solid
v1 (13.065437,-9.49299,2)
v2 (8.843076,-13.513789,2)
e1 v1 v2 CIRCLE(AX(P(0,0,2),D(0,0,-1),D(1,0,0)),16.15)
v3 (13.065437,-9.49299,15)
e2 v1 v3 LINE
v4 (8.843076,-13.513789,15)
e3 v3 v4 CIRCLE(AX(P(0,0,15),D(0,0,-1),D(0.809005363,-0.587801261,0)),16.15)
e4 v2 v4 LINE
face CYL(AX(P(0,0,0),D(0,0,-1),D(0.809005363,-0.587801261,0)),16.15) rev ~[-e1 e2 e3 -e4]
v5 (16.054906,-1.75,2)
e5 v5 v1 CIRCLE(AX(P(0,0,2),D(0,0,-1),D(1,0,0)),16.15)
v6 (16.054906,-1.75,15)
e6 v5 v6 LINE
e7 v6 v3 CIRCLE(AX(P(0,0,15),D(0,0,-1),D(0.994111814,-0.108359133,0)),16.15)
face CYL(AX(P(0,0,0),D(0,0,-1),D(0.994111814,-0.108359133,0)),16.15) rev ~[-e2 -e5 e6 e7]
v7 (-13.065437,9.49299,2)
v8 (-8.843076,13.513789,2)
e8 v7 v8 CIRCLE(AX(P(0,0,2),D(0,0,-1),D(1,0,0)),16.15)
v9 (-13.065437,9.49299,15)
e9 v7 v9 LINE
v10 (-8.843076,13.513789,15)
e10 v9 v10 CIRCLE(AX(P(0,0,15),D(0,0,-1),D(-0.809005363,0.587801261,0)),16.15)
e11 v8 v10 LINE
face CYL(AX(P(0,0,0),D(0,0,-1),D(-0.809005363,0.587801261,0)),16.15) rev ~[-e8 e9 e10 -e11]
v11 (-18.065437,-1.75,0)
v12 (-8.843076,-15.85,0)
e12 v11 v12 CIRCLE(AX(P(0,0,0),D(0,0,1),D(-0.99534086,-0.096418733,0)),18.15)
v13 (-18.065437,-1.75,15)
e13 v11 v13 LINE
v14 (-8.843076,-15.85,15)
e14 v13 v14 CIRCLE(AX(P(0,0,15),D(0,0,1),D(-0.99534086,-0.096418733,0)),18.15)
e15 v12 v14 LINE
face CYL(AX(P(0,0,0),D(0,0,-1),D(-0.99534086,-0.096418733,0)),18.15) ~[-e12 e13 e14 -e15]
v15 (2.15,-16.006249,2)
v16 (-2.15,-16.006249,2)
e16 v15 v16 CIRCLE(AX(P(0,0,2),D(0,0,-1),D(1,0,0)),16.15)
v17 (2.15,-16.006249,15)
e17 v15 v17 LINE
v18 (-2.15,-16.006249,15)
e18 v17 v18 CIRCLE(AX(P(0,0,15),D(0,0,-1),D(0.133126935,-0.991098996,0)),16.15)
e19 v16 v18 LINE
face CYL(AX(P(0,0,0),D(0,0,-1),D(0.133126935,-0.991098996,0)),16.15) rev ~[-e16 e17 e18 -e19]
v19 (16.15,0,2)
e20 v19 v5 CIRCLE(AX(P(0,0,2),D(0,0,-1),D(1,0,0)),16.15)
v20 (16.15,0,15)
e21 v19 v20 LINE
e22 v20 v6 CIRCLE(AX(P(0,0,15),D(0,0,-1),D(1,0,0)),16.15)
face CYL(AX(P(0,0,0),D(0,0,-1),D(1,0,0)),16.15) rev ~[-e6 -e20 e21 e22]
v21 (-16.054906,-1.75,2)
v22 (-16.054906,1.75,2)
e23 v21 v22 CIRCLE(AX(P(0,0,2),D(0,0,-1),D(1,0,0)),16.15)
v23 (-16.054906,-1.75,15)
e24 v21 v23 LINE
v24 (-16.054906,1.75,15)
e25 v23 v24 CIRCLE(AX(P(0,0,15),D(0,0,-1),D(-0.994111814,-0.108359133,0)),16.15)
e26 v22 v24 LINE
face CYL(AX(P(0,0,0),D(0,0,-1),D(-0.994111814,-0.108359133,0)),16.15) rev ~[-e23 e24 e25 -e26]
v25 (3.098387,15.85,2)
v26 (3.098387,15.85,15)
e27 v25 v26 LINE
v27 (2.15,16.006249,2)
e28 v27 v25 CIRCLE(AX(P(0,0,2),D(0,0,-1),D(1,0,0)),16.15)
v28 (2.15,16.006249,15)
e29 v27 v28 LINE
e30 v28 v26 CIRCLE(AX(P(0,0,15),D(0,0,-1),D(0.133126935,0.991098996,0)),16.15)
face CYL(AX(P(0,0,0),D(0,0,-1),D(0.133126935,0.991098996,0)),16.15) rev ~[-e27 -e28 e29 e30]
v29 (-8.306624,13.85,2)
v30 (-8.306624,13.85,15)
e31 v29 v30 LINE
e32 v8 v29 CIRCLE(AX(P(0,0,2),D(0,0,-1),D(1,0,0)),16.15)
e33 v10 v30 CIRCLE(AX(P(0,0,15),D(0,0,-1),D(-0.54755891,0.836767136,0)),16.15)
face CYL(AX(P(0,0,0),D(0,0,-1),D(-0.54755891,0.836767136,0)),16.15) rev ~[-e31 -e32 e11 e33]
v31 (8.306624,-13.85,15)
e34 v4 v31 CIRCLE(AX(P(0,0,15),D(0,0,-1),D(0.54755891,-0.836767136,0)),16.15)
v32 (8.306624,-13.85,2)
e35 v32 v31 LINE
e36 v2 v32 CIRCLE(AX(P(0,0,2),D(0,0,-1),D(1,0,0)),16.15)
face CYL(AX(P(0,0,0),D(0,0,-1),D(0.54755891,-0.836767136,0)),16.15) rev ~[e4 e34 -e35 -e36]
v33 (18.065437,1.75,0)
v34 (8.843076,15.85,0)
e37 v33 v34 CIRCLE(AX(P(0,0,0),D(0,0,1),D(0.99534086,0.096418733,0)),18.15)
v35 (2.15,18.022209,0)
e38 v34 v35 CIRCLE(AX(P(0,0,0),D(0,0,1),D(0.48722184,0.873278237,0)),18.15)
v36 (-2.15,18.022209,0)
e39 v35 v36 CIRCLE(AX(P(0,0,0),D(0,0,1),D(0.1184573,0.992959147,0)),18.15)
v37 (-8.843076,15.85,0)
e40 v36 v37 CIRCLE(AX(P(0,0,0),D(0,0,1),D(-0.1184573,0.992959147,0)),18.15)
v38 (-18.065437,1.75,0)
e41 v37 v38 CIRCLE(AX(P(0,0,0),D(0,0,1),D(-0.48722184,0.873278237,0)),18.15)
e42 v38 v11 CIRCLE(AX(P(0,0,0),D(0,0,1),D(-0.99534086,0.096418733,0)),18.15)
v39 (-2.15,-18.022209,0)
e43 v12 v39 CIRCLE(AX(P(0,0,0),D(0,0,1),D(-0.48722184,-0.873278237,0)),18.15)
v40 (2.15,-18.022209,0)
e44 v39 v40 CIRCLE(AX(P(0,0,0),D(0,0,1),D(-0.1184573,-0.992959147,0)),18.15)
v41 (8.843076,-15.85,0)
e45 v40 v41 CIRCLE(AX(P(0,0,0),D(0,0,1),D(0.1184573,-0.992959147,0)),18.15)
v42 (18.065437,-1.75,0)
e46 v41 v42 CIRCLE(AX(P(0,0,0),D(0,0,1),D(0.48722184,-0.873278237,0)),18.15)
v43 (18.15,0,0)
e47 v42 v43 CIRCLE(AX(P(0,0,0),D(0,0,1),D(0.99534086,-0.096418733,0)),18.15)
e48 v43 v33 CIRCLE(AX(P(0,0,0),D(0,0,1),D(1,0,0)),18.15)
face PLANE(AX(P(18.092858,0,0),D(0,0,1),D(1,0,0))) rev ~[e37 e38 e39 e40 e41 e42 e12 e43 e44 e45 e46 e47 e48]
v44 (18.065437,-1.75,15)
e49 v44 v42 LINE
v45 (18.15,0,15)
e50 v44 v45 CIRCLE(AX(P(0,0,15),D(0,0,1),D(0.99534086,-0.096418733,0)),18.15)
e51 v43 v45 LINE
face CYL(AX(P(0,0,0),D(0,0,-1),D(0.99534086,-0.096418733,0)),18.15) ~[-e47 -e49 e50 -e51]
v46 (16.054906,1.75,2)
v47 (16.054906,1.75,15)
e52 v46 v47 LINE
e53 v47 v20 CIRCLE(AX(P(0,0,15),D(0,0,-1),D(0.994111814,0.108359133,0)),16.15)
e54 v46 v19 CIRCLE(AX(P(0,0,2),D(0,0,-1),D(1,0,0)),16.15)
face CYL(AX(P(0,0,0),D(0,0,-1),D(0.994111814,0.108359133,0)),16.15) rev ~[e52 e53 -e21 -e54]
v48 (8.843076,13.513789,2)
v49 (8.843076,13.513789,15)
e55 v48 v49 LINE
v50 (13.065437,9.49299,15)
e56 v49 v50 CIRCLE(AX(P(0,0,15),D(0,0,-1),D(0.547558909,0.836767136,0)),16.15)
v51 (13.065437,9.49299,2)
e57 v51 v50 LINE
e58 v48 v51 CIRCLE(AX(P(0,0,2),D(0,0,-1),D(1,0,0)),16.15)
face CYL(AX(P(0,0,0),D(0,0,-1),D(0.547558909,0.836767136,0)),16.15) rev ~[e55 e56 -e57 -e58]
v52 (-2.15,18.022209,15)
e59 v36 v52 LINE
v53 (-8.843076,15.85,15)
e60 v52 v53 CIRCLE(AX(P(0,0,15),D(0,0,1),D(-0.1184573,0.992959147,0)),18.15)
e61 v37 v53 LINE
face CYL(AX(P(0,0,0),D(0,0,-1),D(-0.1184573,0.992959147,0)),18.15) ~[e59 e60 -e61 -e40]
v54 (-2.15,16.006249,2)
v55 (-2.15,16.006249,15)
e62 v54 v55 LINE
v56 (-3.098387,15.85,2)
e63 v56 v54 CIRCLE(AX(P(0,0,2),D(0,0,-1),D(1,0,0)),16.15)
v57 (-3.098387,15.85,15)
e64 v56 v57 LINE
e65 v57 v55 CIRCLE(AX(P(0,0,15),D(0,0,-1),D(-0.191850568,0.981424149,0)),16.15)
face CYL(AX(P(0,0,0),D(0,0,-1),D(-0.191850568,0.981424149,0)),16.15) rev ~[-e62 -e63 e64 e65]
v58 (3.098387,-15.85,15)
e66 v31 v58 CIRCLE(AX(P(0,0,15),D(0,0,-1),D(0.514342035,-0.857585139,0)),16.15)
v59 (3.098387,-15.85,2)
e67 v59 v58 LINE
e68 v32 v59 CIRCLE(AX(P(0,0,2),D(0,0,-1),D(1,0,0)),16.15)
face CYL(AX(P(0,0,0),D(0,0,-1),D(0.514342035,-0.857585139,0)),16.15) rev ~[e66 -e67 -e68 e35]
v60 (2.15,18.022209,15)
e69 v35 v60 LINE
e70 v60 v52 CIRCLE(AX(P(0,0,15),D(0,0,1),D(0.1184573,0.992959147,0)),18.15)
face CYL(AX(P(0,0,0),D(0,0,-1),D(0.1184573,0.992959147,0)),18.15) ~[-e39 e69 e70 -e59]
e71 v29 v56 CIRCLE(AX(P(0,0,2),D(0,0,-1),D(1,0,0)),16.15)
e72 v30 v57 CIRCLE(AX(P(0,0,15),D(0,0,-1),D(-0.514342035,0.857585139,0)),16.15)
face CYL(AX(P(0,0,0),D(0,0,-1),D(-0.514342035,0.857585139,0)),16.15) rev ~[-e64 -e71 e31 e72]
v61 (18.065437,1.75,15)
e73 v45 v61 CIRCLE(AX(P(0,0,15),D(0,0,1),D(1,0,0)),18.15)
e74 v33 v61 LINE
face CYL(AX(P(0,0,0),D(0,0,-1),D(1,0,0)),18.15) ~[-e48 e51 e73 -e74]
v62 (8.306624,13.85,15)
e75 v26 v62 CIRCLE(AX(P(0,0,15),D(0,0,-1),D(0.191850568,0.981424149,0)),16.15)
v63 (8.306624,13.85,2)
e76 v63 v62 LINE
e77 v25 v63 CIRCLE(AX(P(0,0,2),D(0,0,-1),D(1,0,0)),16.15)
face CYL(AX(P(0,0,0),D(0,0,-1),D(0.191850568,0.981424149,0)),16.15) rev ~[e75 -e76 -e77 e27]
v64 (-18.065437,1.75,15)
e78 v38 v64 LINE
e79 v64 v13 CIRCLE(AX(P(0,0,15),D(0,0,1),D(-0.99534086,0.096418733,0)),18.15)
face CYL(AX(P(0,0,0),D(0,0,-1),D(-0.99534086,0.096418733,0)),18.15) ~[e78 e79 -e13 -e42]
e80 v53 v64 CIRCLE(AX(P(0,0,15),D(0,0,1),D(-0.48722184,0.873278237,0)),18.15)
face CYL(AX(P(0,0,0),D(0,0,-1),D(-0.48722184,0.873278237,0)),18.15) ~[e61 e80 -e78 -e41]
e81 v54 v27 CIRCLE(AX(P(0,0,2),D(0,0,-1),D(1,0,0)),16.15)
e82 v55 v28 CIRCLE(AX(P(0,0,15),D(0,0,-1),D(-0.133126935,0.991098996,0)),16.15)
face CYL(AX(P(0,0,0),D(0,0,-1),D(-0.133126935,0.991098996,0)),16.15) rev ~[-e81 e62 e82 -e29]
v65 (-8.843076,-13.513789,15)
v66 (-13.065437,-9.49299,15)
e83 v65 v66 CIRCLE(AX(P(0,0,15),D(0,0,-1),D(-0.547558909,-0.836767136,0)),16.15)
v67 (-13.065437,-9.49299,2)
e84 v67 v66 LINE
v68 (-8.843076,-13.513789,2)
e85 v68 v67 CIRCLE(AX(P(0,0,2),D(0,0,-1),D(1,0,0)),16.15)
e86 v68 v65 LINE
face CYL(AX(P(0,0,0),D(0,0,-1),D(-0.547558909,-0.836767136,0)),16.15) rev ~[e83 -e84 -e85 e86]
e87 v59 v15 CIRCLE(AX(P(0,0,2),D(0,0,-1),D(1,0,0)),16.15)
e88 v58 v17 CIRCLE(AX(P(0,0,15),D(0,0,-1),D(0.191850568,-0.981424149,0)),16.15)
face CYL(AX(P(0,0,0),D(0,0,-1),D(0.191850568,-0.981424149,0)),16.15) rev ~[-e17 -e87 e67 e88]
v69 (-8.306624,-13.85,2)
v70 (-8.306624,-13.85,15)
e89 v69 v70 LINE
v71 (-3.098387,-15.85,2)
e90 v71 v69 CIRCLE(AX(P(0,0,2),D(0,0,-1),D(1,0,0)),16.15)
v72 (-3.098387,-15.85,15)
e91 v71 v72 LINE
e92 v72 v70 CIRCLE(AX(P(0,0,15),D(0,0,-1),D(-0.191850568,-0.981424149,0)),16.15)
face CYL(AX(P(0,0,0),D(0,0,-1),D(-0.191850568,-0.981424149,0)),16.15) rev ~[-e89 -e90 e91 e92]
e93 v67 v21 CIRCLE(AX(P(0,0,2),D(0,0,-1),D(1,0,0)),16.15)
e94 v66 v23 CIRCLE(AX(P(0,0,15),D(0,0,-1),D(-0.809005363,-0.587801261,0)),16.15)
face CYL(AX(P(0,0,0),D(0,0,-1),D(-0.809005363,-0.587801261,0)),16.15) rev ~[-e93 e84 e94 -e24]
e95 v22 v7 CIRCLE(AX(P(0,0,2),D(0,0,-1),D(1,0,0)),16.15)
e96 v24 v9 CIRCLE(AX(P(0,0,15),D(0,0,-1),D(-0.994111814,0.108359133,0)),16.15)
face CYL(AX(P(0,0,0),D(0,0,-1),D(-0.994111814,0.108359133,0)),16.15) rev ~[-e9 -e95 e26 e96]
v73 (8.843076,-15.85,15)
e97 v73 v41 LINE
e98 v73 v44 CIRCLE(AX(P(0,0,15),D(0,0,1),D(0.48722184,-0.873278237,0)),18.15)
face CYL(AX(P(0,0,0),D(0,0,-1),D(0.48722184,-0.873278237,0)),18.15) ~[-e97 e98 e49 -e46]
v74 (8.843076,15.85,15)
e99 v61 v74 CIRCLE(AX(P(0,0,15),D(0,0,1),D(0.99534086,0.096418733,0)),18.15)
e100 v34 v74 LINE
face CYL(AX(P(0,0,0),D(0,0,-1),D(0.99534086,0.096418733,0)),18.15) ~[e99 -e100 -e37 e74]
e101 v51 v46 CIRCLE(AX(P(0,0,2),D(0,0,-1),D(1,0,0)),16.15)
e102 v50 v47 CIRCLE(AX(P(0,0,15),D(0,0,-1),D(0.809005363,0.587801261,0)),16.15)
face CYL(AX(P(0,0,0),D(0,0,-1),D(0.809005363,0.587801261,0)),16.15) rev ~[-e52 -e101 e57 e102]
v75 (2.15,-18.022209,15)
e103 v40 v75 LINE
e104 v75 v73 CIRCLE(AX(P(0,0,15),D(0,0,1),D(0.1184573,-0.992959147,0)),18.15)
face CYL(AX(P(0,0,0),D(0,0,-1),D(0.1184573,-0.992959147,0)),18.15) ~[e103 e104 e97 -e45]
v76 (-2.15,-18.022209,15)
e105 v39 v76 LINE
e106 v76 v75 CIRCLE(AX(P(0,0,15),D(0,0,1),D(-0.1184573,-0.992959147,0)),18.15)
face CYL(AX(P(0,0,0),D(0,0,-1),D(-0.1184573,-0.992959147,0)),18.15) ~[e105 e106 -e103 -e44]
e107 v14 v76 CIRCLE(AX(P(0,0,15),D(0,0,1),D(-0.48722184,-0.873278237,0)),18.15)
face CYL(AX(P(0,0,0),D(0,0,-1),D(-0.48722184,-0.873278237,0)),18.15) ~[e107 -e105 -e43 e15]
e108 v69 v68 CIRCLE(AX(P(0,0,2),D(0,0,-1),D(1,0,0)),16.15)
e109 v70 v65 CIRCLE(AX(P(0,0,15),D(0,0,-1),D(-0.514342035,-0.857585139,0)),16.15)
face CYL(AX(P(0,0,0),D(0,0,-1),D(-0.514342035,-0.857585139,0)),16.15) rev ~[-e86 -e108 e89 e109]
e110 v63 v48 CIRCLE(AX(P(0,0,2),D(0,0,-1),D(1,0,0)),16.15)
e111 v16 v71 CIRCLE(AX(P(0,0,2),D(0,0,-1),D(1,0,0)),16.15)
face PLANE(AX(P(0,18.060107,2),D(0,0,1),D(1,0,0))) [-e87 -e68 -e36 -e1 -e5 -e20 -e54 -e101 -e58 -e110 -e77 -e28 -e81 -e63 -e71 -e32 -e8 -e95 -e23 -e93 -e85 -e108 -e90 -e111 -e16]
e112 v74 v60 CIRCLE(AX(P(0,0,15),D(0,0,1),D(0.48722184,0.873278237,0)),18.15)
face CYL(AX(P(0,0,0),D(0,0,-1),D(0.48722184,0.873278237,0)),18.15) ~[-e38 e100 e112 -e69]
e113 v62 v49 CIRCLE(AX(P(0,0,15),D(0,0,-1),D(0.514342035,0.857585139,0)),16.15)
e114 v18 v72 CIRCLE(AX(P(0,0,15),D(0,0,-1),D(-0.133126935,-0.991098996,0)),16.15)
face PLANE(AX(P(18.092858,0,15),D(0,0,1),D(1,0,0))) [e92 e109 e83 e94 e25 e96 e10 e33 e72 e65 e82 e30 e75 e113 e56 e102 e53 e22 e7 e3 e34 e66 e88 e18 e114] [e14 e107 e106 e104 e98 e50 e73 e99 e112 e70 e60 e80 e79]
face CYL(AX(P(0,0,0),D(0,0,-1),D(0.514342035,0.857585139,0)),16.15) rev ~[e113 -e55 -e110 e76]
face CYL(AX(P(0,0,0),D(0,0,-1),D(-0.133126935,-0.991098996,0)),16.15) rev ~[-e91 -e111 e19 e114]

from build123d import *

# Parameters (mm, degrees)
F1_DEPTH    = 15
F0_W        = 4.3
F0_H        = 4.3570096321
F0_W_2      = 4.2223602247
F0_H_2      = 3.5
F0_H_3      = 7.7429903679
F0_W_3      = 6.1566238629
F0_H_4      = 2
F0_W_4      = 0.5364525249
F0_W_5      = 2
F1_FACE_R   = 18.15
F1_FACE_R_2 = 16.15
F2_DEPTH    = 2


with BuildPart() as f1:
    # F0 (on Top) → F1 (new body)
    with BuildSketch(Plane.XY):
        with BuildLine():
            ThreePointArc((18.0654366125, -1.75), (18.1288468265, -0.876020971), (18.15, 0))
            ThreePointArc((18.15, 0), (18.1288468265, 0.876020971), (18.0654366125, 1.75))
            Line((18.0654366125, 1.75), (18.0654366125, -1.75))
        make_face()
        with BuildLine():
            Line((16.0549057923, 1.75), (18.0654366125, 1.75))
            ThreePointArc((18.0654366125, 1.75), (15.1894541696, 9.9349374446), (8.8430763878, 15.85))
            Line((8.8430763878, 15.85), (8.8430763878, 13.5137892539))
            ThreePointArc((8.8430763878, 13.5137892539), (11.1372097669, 11.6955144653), (13.0654366125, 9.4929903679))
            ThreePointArc((13.0654366125, 9.4929903679), (15.0660897516, 5.816823841), (16.0549057923, 1.75))
        make_face()
        with BuildLine():
            Line((18.0654366125, -1.75), (18.0654366125, 1.75))
            Line((18.0654366125, 1.75), (16.0549057923, 1.75))
            ThreePointArc((16.0549057923, 1.75), (16.1262089244, 0.8762908918), (16.15, 0))
            ThreePointArc((16.15, 0), (16.1262089244, -0.8762908918), (16.0549057923, -1.75))
            Line((16.0549057923, -1.75), (18.0654366125, -1.75))
        make_face()
        with BuildLine():
            ThreePointArc((8.8430763878, -15.85), (15.1894541696, -9.9349374446), (18.0654366125, -1.75))
            Line((18.0654366125, -1.75), (16.0549057923, -1.75))
            ThreePointArc((16.0549057923, -1.75), (15.0660897516, -5.816823841), (13.0654366125, -9.4929903679))
            ThreePointArc((13.0654366125, -9.4929903679), (11.1372097669, -11.6955144653), (8.8430763878, -13.5137892539))
            Line((8.8430763878, -13.5137892539), (8.8430763878, -15.85))
        make_face()
        with BuildLine():
            Line((3.098386677, 15.85), (8.8430763878, 15.85))
            ThreePointArc((8.8430763878, 15.85), (5.6028166651, 17.2635727883), (2.15, 18.0222085217))
            Line((2.15, 18.0222085217), (2.15, 16.0062487798))
            ThreePointArc((2.15, 16.0062487798), (2.6253559945, 15.9351813891), (3.098386677, 15.85))
        make_face()
        with BuildLine():
            Line((8.8430763878, 13.5137892539), (8.8430763878, 15.85))
            Line((8.8430763878, 15.85), (3.098386677, 15.85))
            ThreePointArc((3.098386677, 15.85), (5.7895221179, 15.0766021917), (8.3066238629, 13.85))
            ThreePointArc((8.3066238629, 13.85), (8.5764977752, 13.684523591), (8.8430763878, 13.5137892539))
        make_face()
        with BuildLine():
            ThreePointArc((2.15, -18.0222085217), (5.6028166651, -17.2635727883), (8.8430763878, -15.85))
            Line((8.8430763878, -15.85), (3.098386677, -15.85))
            ThreePointArc((3.098386677, -15.85), (2.6253559945, -15.9351813891), (2.15, -16.0062487798))
            Line((2.15, -16.0062487798), (2.15, -18.0222085217))
        make_face()
        with BuildLine():
            Line((3.098386677, -15.85), (8.8430763878, -15.85))
            Line((8.8430763878, -15.85), (8.8430763878, -13.5137892539))
            ThreePointArc((8.8430763878, -13.5137892539), (8.5764977752, -13.684523591), (8.3066238629, -13.85))
            ThreePointArc((8.3066238629, -13.85), (5.7895221179, -15.0766021917), (3.098386677, -15.85))
        make_face()
        with BuildLine():
            Line((-2.15, 18.0222085217), (2.15, 18.0222085217))
            ThreePointArc((2.15, 18.0222085217), (0, 18.15), (-2.15, 18.0222085217))
        make_face()
        with BuildLine():
            Line((2.15, 16.0062487798), (2.15, 18.0222085217))
            Line((2.15, 18.0222085217), (-2.15, 18.0222085217))
            Line((-2.15, 18.0222085217), (-2.15, 16.0062487798))
            ThreePointArc((-2.15, 16.0062487798), (0, 16.15), (2.15, 16.0062487798))
        make_face()
        with BuildLine():
            ThreePointArc((-2.15, -18.0222085217), (0, -18.15), (2.15, -18.0222085217))
            Line((2.15, -18.0222085217), (-2.15, -18.0222085217))
        make_face()
        with BuildLine():
            Line((-2.15, -18.0222085217), (2.15, -18.0222085217))
            Line((2.15, -18.0222085217), (2.15, -16.0062487798))
            ThreePointArc((2.15, -16.0062487798), (0, -16.15), (-2.15, -16.0062487798))
            Line((-2.15, -16.0062487798), (-2.15, -18.0222085217))
        make_face()
        with BuildLine():
            Line((-2.15, 16.0062487798), (-2.15, 18.0222085217))
            ThreePointArc((-2.15, 18.0222085217), (-5.6028166651, 17.2635727883), (-8.8430763878, 15.85))
            Line((-8.8430763878, 15.85), (-3.098386677, 15.85))
            ThreePointArc((-3.098386677, 15.85), (-2.6253559945, 15.9351813891), (-2.15, 16.0062487798))
        make_face()
        with BuildLine():
            ThreePointArc((-8.8430763878, -15.85), (-5.6028166651, -17.2635727883), (-2.15, -18.0222085217))
            Line((-2.15, -18.0222085217), (-2.15, -16.0062487798))
            ThreePointArc((-2.15, -16.0062487798), (-2.6253559945, -15.9351813891), (-3.098386677, -15.85))
            Line((-3.098386677, -15.85), (-8.8430763878, -15.85))
        make_face()
        with BuildLine():
            Line((-8.8430763878, 13.5137892539), (-8.8430763878, 15.85))
            ThreePointArc((-8.8430763878, 15.85), (-15.1894541696, 9.9349374446), (-18.0654366125, 1.75))
            Line((-18.0654366125, 1.75), (-16.0549057923, 1.75))
            ThreePointArc((-16.0549057923, 1.75), (-15.0660897516, 5.816823841), (-13.0654366125, 9.4929903679))
            ThreePointArc((-13.0654366125, 9.4929903679), (-11.1372097669, 11.6955144653), (-8.8430763878, 13.5137892539))
        make_face()
        with BuildLine():
            Line((-3.098386677, 15.85), (-8.8430763878, 15.85))
            Line((-8.8430763878, 15.85), (-8.8430763878, 13.5137892539))
            ThreePointArc((-8.8430763878, 13.5137892539), (-8.5764977752, 13.684523591), (-8.3066238629, 13.85))
            ThreePointArc((-8.3066238629, 13.85), (-5.7895221179, 15.0766021917), (-3.098386677, 15.85))
        make_face()
        with BuildLine():
            Line((-8.8430763878, -13.5137892539), (-8.8430763878, -15.85))
            Line((-8.8430763878, -15.85), (-3.098386677, -15.85))
            ThreePointArc((-3.098386677, -15.85), (-5.7895221179, -15.0766021917), (-8.3066238629, -13.85))
            ThreePointArc((-8.3066238629, -13.85), (-8.5764977752, -13.684523591), (-8.8430763878, -13.5137892539))
        make_face()
        with BuildLine():
            ThreePointArc((-18.0654366125, -1.75), (-15.1894541696, -9.9349374446), (-8.8430763878, -15.85))
            Line((-8.8430763878, -15.85), (-8.8430763878, -13.5137892539))
            ThreePointArc((-8.8430763878, -13.5137892539), (-11.1372097669, -11.6955144653), (-13.0654366125, -9.4929903679))
            ThreePointArc((-13.0654366125, -9.4929903679), (-15.0660897516, -5.816823841), (-16.0549057923, -1.75))
            Line((-16.0549057923, -1.75), (-18.0654366125, -1.75))
        make_face()
        with BuildLine():
            Line((-18.0654366125, -1.75), (-18.0654366125, 1.75))
            ThreePointArc((-18.0654366125, 1.75), (-18.15, 0), (-18.0654366125, -1.75))
        make_face()
        with BuildLine():
            Line((-16.0549057923, 1.75), (-18.0654366125, 1.75))
            Line((-18.0654366125, 1.75), (-18.0654366125, -1.75))
            Line((-18.0654366125, -1.75), (-16.0549057923, -1.75))
            ThreePointArc((-16.0549057923, -1.75), (-16.15, 0), (-16.0549057923, 1.75))
        make_face()
    extrude(amount=F1_DEPTH)

    # F0 (on Top) + F1_face (on face) → F2 (join)
    with BuildSketch(Plane.XY):
        with BuildLine():
            Line((-2.15, 18.0222085217), (2.15, 18.0222085217))
            ThreePointArc((2.15, 18.0222085217), (0, 18.15), (-2.15, 18.0222085217))
        make_face()
        with BuildLine():
            Line((-18.0654366125, -1.75), (-18.0654366125, 1.75))
            ThreePointArc((-18.0654366125, 1.75), (-18.15, 0), (-18.0654366125, -1.75))
        make_face()
        with BuildLine():
            ThreePointArc((-2.15, -18.0222085217), (0, -18.15), (2.15, -18.0222085217))
            Line((2.15, -18.0222085217), (-2.15, -18.0222085217))
        make_face()
        with BuildLine():
            ThreePointArc((18.0654366125, -1.75), (18.1288468265, -0.876020971), (18.15, 0))
            ThreePointArc((18.15, 0), (18.1288468265, 0.876020971), (18.0654366125, 1.75))
            Line((18.0654366125, 1.75), (18.0654366125, -1.75))
        make_face()
        with BuildLine():
            Line((3.098386677, 15.85), (8.8430763878, 15.85))
            ThreePointArc((8.8430763878, 15.85), (5.6028166651, 17.2635727883), (2.15, 18.0222085217))
            Line((2.15, 18.0222085217), (2.15, 16.0062487798))
            ThreePointArc((2.15, 16.0062487798), (2.6253559945, 15.9351813891), (3.098386677, 15.85))
        make_face()
        with BuildLine():
            Line((-2.15, 16.0062487798), (-2.15, 18.0222085217))
            ThreePointArc((-2.15, 18.0222085217), (-5.6028166651, 17.2635727883), (-8.8430763878, 15.85))
            Line((-8.8430763878, 15.85), (-3.098386677, 15.85))
            ThreePointArc((-3.098386677, 15.85), (-2.6253559945, 15.9351813891), (-2.15, 16.0062487798))
        make_face()
        with BuildLine():
            ThreePointArc((-8.8430763878, -15.85), (-5.6028166651, -17.2635727883), (-2.15, -18.0222085217))
            Line((-2.15, -18.0222085217), (-2.15, -16.0062487798))
            ThreePointArc((-2.15, -16.0062487798), (-2.6253559945, -15.9351813891), (-3.098386677, -15.85))
            Line((-3.098386677, -15.85), (-8.8430763878, -15.85))
        make_face()
        with BuildLine():
            ThreePointArc((2.15, -18.0222085217), (5.6028166651, -17.2635727883), (8.8430763878, -15.85))
            Line((8.8430763878, -15.85), (3.098386677, -15.85))
            ThreePointArc((3.098386677, -15.85), (2.6253559945, -15.9351813891), (2.15, -16.0062487798))
            Line((2.15, -16.0062487798), (2.15, -18.0222085217))
        make_face()
        with BuildLine():
            Line((16.0549057923, 1.75), (18.0654366125, 1.75))
            ThreePointArc((18.0654366125, 1.75), (15.1894541696, 9.9349374446), (8.8430763878, 15.85))
            Line((8.8430763878, 15.85), (8.8430763878, 13.5137892539))
            ThreePointArc((8.8430763878, 13.5137892539), (11.1372097669, 11.6955144653), (13.0654366125, 9.4929903679))
            ThreePointArc((13.0654366125, 9.4929903679), (15.0660897516, 5.816823841), (16.0549057923, 1.75))
        make_face()
        with BuildLine():
            Line((-8.8430763878, 13.5137892539), (-8.8430763878, 15.85))
            ThreePointArc((-8.8430763878, 15.85), (-15.1894541696, 9.9349374446), (-18.0654366125, 1.75))
            Line((-18.0654366125, 1.75), (-16.0549057923, 1.75))
            ThreePointArc((-16.0549057923, 1.75), (-15.0660897516, 5.816823841), (-13.0654366125, 9.4929903679))
            ThreePointArc((-13.0654366125, 9.4929903679), (-11.1372097669, 11.6955144653), (-8.8430763878, 13.5137892539))
        make_face()
        with BuildLine():
            ThreePointArc((-18.0654366125, -1.75), (-15.1894541696, -9.9349374446), (-8.8430763878, -15.85))
            Line((-8.8430763878, -15.85), (-8.8430763878, -13.5137892539))
            ThreePointArc((-8.8430763878, -13.5137892539), (-11.1372097669, -11.6955144653), (-13.0654366125, -9.4929903679))
            ThreePointArc((-13.0654366125, -9.4929903679), (-15.0660897516, -5.816823841), (-16.0549057923, -1.75))
            Line((-16.0549057923, -1.75), (-18.0654366125, -1.75))
        make_face()
        with BuildLine():
            ThreePointArc((8.8430763878, -15.85), (15.1894541696, -9.9349374446), (18.0654366125, -1.75))
            Line((18.0654366125, -1.75), (16.0549057923, -1.75))
            ThreePointArc((16.0549057923, -1.75), (15.0660897516, -5.816823841), (13.0654366125, -9.4929903679))
            ThreePointArc((13.0654366125, -9.4929903679), (11.1372097669, -11.6955144653), (8.8430763878, -13.5137892539))
            Line((8.8430763878, -13.5137892539), (8.8430763878, -15.85))
        make_face()
        with BuildLine():
            Line((-3.098386677, 15.85), (-8.8430763878, 15.85))
            Line((-8.8430763878, 15.85), (-8.8430763878, 13.5137892539))
            ThreePointArc((-8.8430763878, 13.5137892539), (-8.5764977752, 13.684523591), (-8.3066238629, 13.85))
            ThreePointArc((-8.3066238629, 13.85), (-5.7895221179, 15.0766021917), (-3.098386677, 15.85))
        make_face()
        with BuildLine():
            Line((8.8430763878, 13.5137892539), (8.8430763878, 15.85))
            Line((8.8430763878, 15.85), (3.098386677, 15.85))
            ThreePointArc((3.098386677, 15.85), (5.7895221179, 15.0766021917), (8.3066238629, 13.85))
            ThreePointArc((8.3066238629, 13.85), (8.5764977752, 13.684523591), (8.8430763878, 13.5137892539))
        make_face()
        with BuildLine():
            Line((-8.8430763878, -13.5137892539), (-8.8430763878, -15.85))
            Line((-8.8430763878, -15.85), (-3.098386677, -15.85))
            ThreePointArc((-3.098386677, -15.85), (-5.7895221179, -15.0766021917), (-8.3066238629, -13.85))
            ThreePointArc((-8.3066238629, -13.85), (-8.5764977752, -13.684523591), (-8.8430763878, -13.5137892539))
        make_face()
        with BuildLine():
            Line((3.098386677, -15.85), (8.8430763878, -15.85))
            Line((8.8430763878, -15.85), (8.8430763878, -13.5137892539))
            ThreePointArc((8.8430763878, -13.5137892539), (8.5764977752, -13.684523591), (8.3066238629, -13.85))
            ThreePointArc((8.3066238629, -13.85), (5.7895221179, -15.0766021917), (3.098386677, -15.85))
        make_face()
        with BuildLine():
            Line((2.15, 16.0062487798), (2.15, 18.0222085217))
            Line((2.15, 18.0222085217), (-2.15, 18.0222085217))
            Line((-2.15, 18.0222085217), (-2.15, 16.0062487798))
            ThreePointArc((-2.15, 16.0062487798), (0, 16.15), (2.15, 16.0062487798))
        make_face()
        with BuildLine():
            Line((-2.15, -18.0222085217), (2.15, -18.0222085217))
            Line((2.15, -18.0222085217), (2.15, -16.0062487798))
            ThreePointArc((2.15, -16.0062487798), (0, -16.15), (-2.15, -16.0062487798))
            Line((-2.15, -16.0062487798), (-2.15, -18.0222085217))
        make_face()
        with BuildLine():
            Line((-16.0549057923, 1.75), (-18.0654366125, 1.75))
            Line((-18.0654366125, 1.75), (-18.0654366125, -1.75))
            Line((-18.0654366125, -1.75), (-16.0549057923, -1.75))
            ThreePointArc((-16.0549057923, -1.75), (-16.15, 0), (-16.0549057923, 1.75))
        make_face()
        with BuildLine():
            Line((18.0654366125, -1.75), (18.0654366125, 1.75))
            Line((18.0654366125, 1.75), (16.0549057923, 1.75))
            ThreePointArc((16.0549057923, 1.75), (16.1262089244, 0.8762908918), (16.15, 0))
            ThreePointArc((16.15, 0), (16.1262089244, -0.8762908918), (16.0549057923, -1.75))
            Line((16.0549057923, -1.75), (18.0654366125, -1.75))
        make_face()
        with Locations((0, 11.6714951839)):
            Rectangle(F0_W, F0_H)
        with Locations((10.9542565001, 0)):
            Rectangle(F0_W_2, F0_H_2)
        with Locations((-10.9542565001, 5.6214951839)):
            Rectangle(F0_W_2, F0_H_3)
        with BuildLine():
            Line((2.15, -15.85), (3.098386677, -15.85))
            ThreePointArc((3.098386677, -15.85), (5.7895221179, -15.0766021917), (8.3066238629, -13.85))
            Line((8.3066238629, -13.85), (2.15, -13.85))
            Line((2.15, -13.85), (2.15, -15.85))
        make_face()
        with Locations((-10.9542565001, -5.6214951839)):
            Rectangle(F0_W_2, F0_H_3)
        with BuildLine():
            ThreePointArc((13.0654366125, 9.4929903679), (11.1372097669, 11.6955144653), (8.8430763878, 13.5137892539))
            Line((8.8430763878, 13.5137892539), (8.8430763878, 9.4929903679))
            Line((8.8430763878, 9.4929903679), (13.0654366125, 9.4929903679))
        make_face()
        with BuildLine():
            ThreePointArc((-13.0654366125, -9.4929903679), (-11.1372097669, -11.6955144653), (-8.8430763878, -13.5137892539))
            Line((-8.8430763878, -13.5137892539), (-8.8430763878, -9.4929903679))
            Line((-8.8430763878, -9.4929903679), (-13.0654366125, -9.4929903679))
        make_face()
        with BuildLine():
            Line((8.8430763878, -9.4929903679), (8.8430763878, -13.5137892539))
            ThreePointArc((8.8430763878, -13.5137892539), (11.1372097669, -11.6955144653), (13.0654366125, -9.4929903679))
            Line((13.0654366125, -9.4929903679), (8.8430763878, -9.4929903679))
        make_face()
        with Locations((10.9542565001, 5.6214951839)):
            Rectangle(F0_W_2, F0_H_3)
        with BuildLine():
            ThreePointArc((-13.0654366125, 9.4929903679), (-15.0660897516, 5.816823841), (-16.0549057923, 1.75))
            Line((-16.0549057923, 1.75), (-15.0654366125, 1.75))
            Line((-15.0654366125, 1.75), (-13.0654366125, 1.75))
            Line((-13.0654366125, 1.75), (-13.0654366125, 9.4929903679))
        make_face()
        with BuildLine():
            ThreePointArc((13.0654366125, -9.4929903679), (15.0660897516, -5.816823841), (16.0549057923, -1.75))
            Line((16.0549057923, -1.75), (15.0654366125, -1.75))
            Line((15.0654366125, -1.75), (13.0654366125, -1.75))
            Line((13.0654366125, -1.75), (13.0654366125, -9.4929903679))
        make_face()
        with Locations((0, -5.6214951839)):
            Rectangle(F0_W, F0_H_3)
        with Locations((5.2283119315, 11.6714951839)):
            Rectangle(F0_W_3, F0_H)
        with Locations((-5.2283119315, 5.6214951839)):
            Rectangle(F0_W_3, F0_H_3)
        with Locations((10.9542565001, -5.6214951839)):
            Rectangle(F0_W_2, F0_H_3)
        with Locations((5.2283119315, 0)):
            Rectangle(F0_W_3, F0_H_2)
        with BuildLine():
            Line((15.0654366125, 1.75), (16.0549057923, 1.75))
            ThreePointArc((16.0549057923, 1.75), (15.0660897516, 5.816823841), (13.0654366125, 9.4929903679))
            Line((13.0654366125, 9.4929903679), (13.0654366125, 1.75))
            Line((13.0654366125, 1.75), (15.0654366125, 1.75))
        make_face()
        with BuildLine():
            Line((-2.15, 13.85), (-2.15, 15.85))
            Line((-2.15, 15.85), (-3.098386677, 15.85))
            ThreePointArc((-3.098386677, 15.85), (-5.7895221179, 15.0766021917), (-8.3066238629, 13.85))
            Line((-8.3066238629, 13.85), (-2.15, 13.85))
        make_face()
        with BuildLine():
            Line((-15.0654366125, -1.75), (-16.0549057923, -1.75))
            ThreePointArc((-16.0549057923, -1.75), (-15.0660897516, -5.816823841), (-13.0654366125, -9.4929903679))
            Line((-13.0654366125, -9.4929903679), (-13.0654366125, -1.75))
            Line((-13.0654366125, -1.75), (-15.0654366125, -1.75))
        make_face()
        with Locations((0, 14.85)):
            Rectangle(F0_W, F0_H_4)
        with Locations((-5.2283119315, 0)):
            Rectangle(F0_W_3, F0_H_2)
        with Locations((-5.2283119315, -11.6714951839)):
            Rectangle(F0_W_3, F0_H)
        with BuildLine():
            Line((-8.8430763878, 9.4929903679), (-8.8430763878, 13.5137892539))
            ThreePointArc((-8.8430763878, 13.5137892539), (-11.1372097669, 11.6955144653), (-13.0654366125, 9.4929903679))
            Line((-13.0654366125, 9.4929903679), (-8.8430763878, 9.4929903679))
        make_face()
        with Locations((5.2283119315, -11.6714951839)):
            Rectangle(F0_W_3, F0_H)
        with Locations((0, 5.6214951839)):
            Rectangle(F0_W, F0_H_3)
        with Locations((5.2283119315, 5.6214951839)):
            Rectangle(F0_W_3, F0_H_3)
        with Locations((0, -11.6714951839)):
            Rectangle(F0_W, F0_H)
        with Locations((-10.9542565001, 0)):
            Rectangle(F0_W_2, F0_H_2)
        with Locations((-5.2283119315, 11.6714951839)):
            Rectangle(F0_W_3, F0_H)
        with Locations((-5.2283119315, -5.6214951839)):
            Rectangle(F0_W_3, F0_H_3)
        with Locations((5.2283119315, -5.6214951839)):
            Rectangle(F0_W_3, F0_H_3)
        with Locations((-8.5748501253, 5.6214951839)):
            Rectangle(F0_W_4, F0_H_3)
        with Locations((-8.5748501253, 0)):
            Rectangle(F0_W_4, F0_H_2)
        with BuildLine():
            Line((2.15, 15.85), (2.15, 16.0062487798))
            ThreePointArc((2.15, 16.0062487798), (0, 16.15), (-2.15, 16.0062487798))
            Line((-2.15, 16.0062487798), (-2.15, 15.85))
            Line((-2.15, 15.85), (2.15, 15.85))
        make_face()
        with BuildLine():
            ThreePointArc((8.3066238629, 13.85), (5.7895221179, 15.0766021917), (3.098386677, 15.85))
            Line((3.098386677, 15.85), (2.15, 15.85))
            Line((2.15, 15.85), (2.15, 13.85))
            Line((2.15, 13.85), (8.3066238629, 13.85))
        make_face()
        with BuildLine():
            Line((8.8430763878, 9.4929903679), (8.8430763878, 13.5137892539))
            ThreePointArc((8.8430763878, 13.5137892539), (8.5764977752, 13.684523591), (8.3066238629, 13.85))
            Line((8.3066238629, 13.85), (8.3066238629, 9.4929903679))
            Line((8.3066238629, 9.4929903679), (8.8430763878, 9.4929903679))
        make_face()
        with Locations((0, -14.85)):
            Rectangle(F0_W, F0_H_4)
        with BuildLine():
            Line((-8.8430763878, -9.4929903679), (-8.8430763878, -13.5137892539))
            ThreePointArc((-8.8430763878, -13.5137892539), (-8.5764977752, -13.684523591), (-8.3066238629, -13.85))
            Line((-8.3066238629, -13.85), (-8.3066238629, -9.4929903679))
            Line((-8.3066238629, -9.4929903679), (-8.8430763878, -9.4929903679))
        make_face()
        with BuildLine():
            Line((-3.098386677, -15.85), (-2.15, -15.85))
            Line((-2.15, -15.85), (-2.15, -13.85))
            Line((-2.15, -13.85), (-8.3066238629, -13.85))
            ThreePointArc((-8.3066238629, -13.85), (-5.7895221179, -15.0766021917), (-3.098386677, -15.85))
        make_face()
        with Locations((8.5748501253, 0)):
            Rectangle(F0_W_4, F0_H_2)
        with BuildLine():
            ThreePointArc((-8.3066238629, 13.85), (-8.5764977752, 13.684523591), (-8.8430763878, 13.5137892539))
            Line((-8.8430763878, 13.5137892539), (-8.8430763878, 9.4929903679))
            Line((-8.8430763878, 9.4929903679), (-8.3066238629, 9.4929903679))
            Line((-8.3066238629, 9.4929903679), (-8.3066238629, 13.85))
        make_face()
        with Locations((8.5748501253, -5.6214951839)):
            Rectangle(F0_W_4, F0_H_3)
        with Locations((-8.5748501253, -5.6214951839)):
            Rectangle(F0_W_4, F0_H_3)
        with Locations((8.5748501253, 5.6214951839)):
            Rectangle(F0_W_4, F0_H_3)
        with BuildLine():
            ThreePointArc((8.3066238629, -13.85), (8.5764977752, -13.684523591), (8.8430763878, -13.5137892539))
            Line((8.8430763878, -13.5137892539), (8.8430763878, -9.4929903679))
            Line((8.8430763878, -9.4929903679), (8.3066238629, -9.4929903679))
            Line((8.3066238629, -9.4929903679), (8.3066238629, -13.85))
        make_face()
        with BuildLine():
            Line((-15.0654366125, 1.75), (-16.0549057923, 1.75))
            ThreePointArc((-16.0549057923, 1.75), (-16.15, 0), (-16.0549057923, -1.75))
            Line((-16.0549057923, -1.75), (-15.0654366125, -1.75))
            Line((-15.0654366125, -1.75), (-15.0654366125, 1.75))
        make_face()
        with BuildLine():
            ThreePointArc((-2.15, -16.0062487798), (0, -16.15), (2.15, -16.0062487798))
            Line((2.15, -16.0062487798), (2.15, -15.85))
            Line((2.15, -15.85), (-2.15, -15.85))
            Line((-2.15, -15.85), (-2.15, -16.0062487798))
        make_face()
        with BuildLine():
            ThreePointArc((16.15, 0), (16.1262089244, 0.8762908918), (16.0549057923, 1.75))
            Line((16.0549057923, 1.75), (15.0654366125, 1.75))
            Line((15.0654366125, 1.75), (15.0654366125, -1.75))
            Line((15.0654366125, -1.75), (16.0549057923, -1.75))
            ThreePointArc((16.0549057923, -1.75), (16.1262089244, -0.8762908918), (16.15, 0))
        make_face()
        with Locations((14.0654366125, 0)):
            Rectangle(F0_W_5, F0_H_2)
        with BuildLine():
            ThreePointArc((2.15, -16.0062487798), (2.6253559945, -15.9351813891), (3.098386677, -15.85))
            Line((3.098386677, -15.85), (2.15, -15.85))
            Line((2.15, -15.85), (2.15, -16.0062487798))
        make_face()
        with BuildLine():
            ThreePointArc((-3.098386677, -15.85), (-2.6253559945, -15.9351813891), (-2.15, -16.0062487798))
            Line((-2.15, -16.0062487798), (-2.15, -15.85))
            Line((-2.15, -15.85), (-3.098386677, -15.85))
        make_face()
        with BuildLine():
            Line((2.15, 15.85), (3.098386677, 15.85))
            ThreePointArc((3.098386677, 15.85), (2.6253559945, 15.9351813891), (2.15, 16.0062487798))
            Line((2.15, 16.0062487798), (2.15, 15.85))
        make_face()
        with BuildLine():
            Line((-2.15, 15.85), (-2.15, 16.0062487798))
            ThreePointArc((-2.15, 16.0062487798), (-2.6253559945, 15.9351813891), (-3.098386677, 15.85))
            Line((-3.098386677, 15.85), (-2.15, 15.85))
        make_face()
        with Locations((-14.0654366125, 0)):
            Rectangle(F0_W_5, F0_H_2)
        Rectangle(F0_W, F0_H_2)
    with BuildSketch(Plane(origin=(0, 0, 0), x_dir=(1, 0, 0), z_dir=(0, 0, -1))):
        Circle(F1_FACE_R)
        Circle(F1_FACE_R_2, mode=Mode.SUBTRACT)
    extrude(amount=F2_DEPTH, dir=(0, 0, 1))


solid = f1.part
